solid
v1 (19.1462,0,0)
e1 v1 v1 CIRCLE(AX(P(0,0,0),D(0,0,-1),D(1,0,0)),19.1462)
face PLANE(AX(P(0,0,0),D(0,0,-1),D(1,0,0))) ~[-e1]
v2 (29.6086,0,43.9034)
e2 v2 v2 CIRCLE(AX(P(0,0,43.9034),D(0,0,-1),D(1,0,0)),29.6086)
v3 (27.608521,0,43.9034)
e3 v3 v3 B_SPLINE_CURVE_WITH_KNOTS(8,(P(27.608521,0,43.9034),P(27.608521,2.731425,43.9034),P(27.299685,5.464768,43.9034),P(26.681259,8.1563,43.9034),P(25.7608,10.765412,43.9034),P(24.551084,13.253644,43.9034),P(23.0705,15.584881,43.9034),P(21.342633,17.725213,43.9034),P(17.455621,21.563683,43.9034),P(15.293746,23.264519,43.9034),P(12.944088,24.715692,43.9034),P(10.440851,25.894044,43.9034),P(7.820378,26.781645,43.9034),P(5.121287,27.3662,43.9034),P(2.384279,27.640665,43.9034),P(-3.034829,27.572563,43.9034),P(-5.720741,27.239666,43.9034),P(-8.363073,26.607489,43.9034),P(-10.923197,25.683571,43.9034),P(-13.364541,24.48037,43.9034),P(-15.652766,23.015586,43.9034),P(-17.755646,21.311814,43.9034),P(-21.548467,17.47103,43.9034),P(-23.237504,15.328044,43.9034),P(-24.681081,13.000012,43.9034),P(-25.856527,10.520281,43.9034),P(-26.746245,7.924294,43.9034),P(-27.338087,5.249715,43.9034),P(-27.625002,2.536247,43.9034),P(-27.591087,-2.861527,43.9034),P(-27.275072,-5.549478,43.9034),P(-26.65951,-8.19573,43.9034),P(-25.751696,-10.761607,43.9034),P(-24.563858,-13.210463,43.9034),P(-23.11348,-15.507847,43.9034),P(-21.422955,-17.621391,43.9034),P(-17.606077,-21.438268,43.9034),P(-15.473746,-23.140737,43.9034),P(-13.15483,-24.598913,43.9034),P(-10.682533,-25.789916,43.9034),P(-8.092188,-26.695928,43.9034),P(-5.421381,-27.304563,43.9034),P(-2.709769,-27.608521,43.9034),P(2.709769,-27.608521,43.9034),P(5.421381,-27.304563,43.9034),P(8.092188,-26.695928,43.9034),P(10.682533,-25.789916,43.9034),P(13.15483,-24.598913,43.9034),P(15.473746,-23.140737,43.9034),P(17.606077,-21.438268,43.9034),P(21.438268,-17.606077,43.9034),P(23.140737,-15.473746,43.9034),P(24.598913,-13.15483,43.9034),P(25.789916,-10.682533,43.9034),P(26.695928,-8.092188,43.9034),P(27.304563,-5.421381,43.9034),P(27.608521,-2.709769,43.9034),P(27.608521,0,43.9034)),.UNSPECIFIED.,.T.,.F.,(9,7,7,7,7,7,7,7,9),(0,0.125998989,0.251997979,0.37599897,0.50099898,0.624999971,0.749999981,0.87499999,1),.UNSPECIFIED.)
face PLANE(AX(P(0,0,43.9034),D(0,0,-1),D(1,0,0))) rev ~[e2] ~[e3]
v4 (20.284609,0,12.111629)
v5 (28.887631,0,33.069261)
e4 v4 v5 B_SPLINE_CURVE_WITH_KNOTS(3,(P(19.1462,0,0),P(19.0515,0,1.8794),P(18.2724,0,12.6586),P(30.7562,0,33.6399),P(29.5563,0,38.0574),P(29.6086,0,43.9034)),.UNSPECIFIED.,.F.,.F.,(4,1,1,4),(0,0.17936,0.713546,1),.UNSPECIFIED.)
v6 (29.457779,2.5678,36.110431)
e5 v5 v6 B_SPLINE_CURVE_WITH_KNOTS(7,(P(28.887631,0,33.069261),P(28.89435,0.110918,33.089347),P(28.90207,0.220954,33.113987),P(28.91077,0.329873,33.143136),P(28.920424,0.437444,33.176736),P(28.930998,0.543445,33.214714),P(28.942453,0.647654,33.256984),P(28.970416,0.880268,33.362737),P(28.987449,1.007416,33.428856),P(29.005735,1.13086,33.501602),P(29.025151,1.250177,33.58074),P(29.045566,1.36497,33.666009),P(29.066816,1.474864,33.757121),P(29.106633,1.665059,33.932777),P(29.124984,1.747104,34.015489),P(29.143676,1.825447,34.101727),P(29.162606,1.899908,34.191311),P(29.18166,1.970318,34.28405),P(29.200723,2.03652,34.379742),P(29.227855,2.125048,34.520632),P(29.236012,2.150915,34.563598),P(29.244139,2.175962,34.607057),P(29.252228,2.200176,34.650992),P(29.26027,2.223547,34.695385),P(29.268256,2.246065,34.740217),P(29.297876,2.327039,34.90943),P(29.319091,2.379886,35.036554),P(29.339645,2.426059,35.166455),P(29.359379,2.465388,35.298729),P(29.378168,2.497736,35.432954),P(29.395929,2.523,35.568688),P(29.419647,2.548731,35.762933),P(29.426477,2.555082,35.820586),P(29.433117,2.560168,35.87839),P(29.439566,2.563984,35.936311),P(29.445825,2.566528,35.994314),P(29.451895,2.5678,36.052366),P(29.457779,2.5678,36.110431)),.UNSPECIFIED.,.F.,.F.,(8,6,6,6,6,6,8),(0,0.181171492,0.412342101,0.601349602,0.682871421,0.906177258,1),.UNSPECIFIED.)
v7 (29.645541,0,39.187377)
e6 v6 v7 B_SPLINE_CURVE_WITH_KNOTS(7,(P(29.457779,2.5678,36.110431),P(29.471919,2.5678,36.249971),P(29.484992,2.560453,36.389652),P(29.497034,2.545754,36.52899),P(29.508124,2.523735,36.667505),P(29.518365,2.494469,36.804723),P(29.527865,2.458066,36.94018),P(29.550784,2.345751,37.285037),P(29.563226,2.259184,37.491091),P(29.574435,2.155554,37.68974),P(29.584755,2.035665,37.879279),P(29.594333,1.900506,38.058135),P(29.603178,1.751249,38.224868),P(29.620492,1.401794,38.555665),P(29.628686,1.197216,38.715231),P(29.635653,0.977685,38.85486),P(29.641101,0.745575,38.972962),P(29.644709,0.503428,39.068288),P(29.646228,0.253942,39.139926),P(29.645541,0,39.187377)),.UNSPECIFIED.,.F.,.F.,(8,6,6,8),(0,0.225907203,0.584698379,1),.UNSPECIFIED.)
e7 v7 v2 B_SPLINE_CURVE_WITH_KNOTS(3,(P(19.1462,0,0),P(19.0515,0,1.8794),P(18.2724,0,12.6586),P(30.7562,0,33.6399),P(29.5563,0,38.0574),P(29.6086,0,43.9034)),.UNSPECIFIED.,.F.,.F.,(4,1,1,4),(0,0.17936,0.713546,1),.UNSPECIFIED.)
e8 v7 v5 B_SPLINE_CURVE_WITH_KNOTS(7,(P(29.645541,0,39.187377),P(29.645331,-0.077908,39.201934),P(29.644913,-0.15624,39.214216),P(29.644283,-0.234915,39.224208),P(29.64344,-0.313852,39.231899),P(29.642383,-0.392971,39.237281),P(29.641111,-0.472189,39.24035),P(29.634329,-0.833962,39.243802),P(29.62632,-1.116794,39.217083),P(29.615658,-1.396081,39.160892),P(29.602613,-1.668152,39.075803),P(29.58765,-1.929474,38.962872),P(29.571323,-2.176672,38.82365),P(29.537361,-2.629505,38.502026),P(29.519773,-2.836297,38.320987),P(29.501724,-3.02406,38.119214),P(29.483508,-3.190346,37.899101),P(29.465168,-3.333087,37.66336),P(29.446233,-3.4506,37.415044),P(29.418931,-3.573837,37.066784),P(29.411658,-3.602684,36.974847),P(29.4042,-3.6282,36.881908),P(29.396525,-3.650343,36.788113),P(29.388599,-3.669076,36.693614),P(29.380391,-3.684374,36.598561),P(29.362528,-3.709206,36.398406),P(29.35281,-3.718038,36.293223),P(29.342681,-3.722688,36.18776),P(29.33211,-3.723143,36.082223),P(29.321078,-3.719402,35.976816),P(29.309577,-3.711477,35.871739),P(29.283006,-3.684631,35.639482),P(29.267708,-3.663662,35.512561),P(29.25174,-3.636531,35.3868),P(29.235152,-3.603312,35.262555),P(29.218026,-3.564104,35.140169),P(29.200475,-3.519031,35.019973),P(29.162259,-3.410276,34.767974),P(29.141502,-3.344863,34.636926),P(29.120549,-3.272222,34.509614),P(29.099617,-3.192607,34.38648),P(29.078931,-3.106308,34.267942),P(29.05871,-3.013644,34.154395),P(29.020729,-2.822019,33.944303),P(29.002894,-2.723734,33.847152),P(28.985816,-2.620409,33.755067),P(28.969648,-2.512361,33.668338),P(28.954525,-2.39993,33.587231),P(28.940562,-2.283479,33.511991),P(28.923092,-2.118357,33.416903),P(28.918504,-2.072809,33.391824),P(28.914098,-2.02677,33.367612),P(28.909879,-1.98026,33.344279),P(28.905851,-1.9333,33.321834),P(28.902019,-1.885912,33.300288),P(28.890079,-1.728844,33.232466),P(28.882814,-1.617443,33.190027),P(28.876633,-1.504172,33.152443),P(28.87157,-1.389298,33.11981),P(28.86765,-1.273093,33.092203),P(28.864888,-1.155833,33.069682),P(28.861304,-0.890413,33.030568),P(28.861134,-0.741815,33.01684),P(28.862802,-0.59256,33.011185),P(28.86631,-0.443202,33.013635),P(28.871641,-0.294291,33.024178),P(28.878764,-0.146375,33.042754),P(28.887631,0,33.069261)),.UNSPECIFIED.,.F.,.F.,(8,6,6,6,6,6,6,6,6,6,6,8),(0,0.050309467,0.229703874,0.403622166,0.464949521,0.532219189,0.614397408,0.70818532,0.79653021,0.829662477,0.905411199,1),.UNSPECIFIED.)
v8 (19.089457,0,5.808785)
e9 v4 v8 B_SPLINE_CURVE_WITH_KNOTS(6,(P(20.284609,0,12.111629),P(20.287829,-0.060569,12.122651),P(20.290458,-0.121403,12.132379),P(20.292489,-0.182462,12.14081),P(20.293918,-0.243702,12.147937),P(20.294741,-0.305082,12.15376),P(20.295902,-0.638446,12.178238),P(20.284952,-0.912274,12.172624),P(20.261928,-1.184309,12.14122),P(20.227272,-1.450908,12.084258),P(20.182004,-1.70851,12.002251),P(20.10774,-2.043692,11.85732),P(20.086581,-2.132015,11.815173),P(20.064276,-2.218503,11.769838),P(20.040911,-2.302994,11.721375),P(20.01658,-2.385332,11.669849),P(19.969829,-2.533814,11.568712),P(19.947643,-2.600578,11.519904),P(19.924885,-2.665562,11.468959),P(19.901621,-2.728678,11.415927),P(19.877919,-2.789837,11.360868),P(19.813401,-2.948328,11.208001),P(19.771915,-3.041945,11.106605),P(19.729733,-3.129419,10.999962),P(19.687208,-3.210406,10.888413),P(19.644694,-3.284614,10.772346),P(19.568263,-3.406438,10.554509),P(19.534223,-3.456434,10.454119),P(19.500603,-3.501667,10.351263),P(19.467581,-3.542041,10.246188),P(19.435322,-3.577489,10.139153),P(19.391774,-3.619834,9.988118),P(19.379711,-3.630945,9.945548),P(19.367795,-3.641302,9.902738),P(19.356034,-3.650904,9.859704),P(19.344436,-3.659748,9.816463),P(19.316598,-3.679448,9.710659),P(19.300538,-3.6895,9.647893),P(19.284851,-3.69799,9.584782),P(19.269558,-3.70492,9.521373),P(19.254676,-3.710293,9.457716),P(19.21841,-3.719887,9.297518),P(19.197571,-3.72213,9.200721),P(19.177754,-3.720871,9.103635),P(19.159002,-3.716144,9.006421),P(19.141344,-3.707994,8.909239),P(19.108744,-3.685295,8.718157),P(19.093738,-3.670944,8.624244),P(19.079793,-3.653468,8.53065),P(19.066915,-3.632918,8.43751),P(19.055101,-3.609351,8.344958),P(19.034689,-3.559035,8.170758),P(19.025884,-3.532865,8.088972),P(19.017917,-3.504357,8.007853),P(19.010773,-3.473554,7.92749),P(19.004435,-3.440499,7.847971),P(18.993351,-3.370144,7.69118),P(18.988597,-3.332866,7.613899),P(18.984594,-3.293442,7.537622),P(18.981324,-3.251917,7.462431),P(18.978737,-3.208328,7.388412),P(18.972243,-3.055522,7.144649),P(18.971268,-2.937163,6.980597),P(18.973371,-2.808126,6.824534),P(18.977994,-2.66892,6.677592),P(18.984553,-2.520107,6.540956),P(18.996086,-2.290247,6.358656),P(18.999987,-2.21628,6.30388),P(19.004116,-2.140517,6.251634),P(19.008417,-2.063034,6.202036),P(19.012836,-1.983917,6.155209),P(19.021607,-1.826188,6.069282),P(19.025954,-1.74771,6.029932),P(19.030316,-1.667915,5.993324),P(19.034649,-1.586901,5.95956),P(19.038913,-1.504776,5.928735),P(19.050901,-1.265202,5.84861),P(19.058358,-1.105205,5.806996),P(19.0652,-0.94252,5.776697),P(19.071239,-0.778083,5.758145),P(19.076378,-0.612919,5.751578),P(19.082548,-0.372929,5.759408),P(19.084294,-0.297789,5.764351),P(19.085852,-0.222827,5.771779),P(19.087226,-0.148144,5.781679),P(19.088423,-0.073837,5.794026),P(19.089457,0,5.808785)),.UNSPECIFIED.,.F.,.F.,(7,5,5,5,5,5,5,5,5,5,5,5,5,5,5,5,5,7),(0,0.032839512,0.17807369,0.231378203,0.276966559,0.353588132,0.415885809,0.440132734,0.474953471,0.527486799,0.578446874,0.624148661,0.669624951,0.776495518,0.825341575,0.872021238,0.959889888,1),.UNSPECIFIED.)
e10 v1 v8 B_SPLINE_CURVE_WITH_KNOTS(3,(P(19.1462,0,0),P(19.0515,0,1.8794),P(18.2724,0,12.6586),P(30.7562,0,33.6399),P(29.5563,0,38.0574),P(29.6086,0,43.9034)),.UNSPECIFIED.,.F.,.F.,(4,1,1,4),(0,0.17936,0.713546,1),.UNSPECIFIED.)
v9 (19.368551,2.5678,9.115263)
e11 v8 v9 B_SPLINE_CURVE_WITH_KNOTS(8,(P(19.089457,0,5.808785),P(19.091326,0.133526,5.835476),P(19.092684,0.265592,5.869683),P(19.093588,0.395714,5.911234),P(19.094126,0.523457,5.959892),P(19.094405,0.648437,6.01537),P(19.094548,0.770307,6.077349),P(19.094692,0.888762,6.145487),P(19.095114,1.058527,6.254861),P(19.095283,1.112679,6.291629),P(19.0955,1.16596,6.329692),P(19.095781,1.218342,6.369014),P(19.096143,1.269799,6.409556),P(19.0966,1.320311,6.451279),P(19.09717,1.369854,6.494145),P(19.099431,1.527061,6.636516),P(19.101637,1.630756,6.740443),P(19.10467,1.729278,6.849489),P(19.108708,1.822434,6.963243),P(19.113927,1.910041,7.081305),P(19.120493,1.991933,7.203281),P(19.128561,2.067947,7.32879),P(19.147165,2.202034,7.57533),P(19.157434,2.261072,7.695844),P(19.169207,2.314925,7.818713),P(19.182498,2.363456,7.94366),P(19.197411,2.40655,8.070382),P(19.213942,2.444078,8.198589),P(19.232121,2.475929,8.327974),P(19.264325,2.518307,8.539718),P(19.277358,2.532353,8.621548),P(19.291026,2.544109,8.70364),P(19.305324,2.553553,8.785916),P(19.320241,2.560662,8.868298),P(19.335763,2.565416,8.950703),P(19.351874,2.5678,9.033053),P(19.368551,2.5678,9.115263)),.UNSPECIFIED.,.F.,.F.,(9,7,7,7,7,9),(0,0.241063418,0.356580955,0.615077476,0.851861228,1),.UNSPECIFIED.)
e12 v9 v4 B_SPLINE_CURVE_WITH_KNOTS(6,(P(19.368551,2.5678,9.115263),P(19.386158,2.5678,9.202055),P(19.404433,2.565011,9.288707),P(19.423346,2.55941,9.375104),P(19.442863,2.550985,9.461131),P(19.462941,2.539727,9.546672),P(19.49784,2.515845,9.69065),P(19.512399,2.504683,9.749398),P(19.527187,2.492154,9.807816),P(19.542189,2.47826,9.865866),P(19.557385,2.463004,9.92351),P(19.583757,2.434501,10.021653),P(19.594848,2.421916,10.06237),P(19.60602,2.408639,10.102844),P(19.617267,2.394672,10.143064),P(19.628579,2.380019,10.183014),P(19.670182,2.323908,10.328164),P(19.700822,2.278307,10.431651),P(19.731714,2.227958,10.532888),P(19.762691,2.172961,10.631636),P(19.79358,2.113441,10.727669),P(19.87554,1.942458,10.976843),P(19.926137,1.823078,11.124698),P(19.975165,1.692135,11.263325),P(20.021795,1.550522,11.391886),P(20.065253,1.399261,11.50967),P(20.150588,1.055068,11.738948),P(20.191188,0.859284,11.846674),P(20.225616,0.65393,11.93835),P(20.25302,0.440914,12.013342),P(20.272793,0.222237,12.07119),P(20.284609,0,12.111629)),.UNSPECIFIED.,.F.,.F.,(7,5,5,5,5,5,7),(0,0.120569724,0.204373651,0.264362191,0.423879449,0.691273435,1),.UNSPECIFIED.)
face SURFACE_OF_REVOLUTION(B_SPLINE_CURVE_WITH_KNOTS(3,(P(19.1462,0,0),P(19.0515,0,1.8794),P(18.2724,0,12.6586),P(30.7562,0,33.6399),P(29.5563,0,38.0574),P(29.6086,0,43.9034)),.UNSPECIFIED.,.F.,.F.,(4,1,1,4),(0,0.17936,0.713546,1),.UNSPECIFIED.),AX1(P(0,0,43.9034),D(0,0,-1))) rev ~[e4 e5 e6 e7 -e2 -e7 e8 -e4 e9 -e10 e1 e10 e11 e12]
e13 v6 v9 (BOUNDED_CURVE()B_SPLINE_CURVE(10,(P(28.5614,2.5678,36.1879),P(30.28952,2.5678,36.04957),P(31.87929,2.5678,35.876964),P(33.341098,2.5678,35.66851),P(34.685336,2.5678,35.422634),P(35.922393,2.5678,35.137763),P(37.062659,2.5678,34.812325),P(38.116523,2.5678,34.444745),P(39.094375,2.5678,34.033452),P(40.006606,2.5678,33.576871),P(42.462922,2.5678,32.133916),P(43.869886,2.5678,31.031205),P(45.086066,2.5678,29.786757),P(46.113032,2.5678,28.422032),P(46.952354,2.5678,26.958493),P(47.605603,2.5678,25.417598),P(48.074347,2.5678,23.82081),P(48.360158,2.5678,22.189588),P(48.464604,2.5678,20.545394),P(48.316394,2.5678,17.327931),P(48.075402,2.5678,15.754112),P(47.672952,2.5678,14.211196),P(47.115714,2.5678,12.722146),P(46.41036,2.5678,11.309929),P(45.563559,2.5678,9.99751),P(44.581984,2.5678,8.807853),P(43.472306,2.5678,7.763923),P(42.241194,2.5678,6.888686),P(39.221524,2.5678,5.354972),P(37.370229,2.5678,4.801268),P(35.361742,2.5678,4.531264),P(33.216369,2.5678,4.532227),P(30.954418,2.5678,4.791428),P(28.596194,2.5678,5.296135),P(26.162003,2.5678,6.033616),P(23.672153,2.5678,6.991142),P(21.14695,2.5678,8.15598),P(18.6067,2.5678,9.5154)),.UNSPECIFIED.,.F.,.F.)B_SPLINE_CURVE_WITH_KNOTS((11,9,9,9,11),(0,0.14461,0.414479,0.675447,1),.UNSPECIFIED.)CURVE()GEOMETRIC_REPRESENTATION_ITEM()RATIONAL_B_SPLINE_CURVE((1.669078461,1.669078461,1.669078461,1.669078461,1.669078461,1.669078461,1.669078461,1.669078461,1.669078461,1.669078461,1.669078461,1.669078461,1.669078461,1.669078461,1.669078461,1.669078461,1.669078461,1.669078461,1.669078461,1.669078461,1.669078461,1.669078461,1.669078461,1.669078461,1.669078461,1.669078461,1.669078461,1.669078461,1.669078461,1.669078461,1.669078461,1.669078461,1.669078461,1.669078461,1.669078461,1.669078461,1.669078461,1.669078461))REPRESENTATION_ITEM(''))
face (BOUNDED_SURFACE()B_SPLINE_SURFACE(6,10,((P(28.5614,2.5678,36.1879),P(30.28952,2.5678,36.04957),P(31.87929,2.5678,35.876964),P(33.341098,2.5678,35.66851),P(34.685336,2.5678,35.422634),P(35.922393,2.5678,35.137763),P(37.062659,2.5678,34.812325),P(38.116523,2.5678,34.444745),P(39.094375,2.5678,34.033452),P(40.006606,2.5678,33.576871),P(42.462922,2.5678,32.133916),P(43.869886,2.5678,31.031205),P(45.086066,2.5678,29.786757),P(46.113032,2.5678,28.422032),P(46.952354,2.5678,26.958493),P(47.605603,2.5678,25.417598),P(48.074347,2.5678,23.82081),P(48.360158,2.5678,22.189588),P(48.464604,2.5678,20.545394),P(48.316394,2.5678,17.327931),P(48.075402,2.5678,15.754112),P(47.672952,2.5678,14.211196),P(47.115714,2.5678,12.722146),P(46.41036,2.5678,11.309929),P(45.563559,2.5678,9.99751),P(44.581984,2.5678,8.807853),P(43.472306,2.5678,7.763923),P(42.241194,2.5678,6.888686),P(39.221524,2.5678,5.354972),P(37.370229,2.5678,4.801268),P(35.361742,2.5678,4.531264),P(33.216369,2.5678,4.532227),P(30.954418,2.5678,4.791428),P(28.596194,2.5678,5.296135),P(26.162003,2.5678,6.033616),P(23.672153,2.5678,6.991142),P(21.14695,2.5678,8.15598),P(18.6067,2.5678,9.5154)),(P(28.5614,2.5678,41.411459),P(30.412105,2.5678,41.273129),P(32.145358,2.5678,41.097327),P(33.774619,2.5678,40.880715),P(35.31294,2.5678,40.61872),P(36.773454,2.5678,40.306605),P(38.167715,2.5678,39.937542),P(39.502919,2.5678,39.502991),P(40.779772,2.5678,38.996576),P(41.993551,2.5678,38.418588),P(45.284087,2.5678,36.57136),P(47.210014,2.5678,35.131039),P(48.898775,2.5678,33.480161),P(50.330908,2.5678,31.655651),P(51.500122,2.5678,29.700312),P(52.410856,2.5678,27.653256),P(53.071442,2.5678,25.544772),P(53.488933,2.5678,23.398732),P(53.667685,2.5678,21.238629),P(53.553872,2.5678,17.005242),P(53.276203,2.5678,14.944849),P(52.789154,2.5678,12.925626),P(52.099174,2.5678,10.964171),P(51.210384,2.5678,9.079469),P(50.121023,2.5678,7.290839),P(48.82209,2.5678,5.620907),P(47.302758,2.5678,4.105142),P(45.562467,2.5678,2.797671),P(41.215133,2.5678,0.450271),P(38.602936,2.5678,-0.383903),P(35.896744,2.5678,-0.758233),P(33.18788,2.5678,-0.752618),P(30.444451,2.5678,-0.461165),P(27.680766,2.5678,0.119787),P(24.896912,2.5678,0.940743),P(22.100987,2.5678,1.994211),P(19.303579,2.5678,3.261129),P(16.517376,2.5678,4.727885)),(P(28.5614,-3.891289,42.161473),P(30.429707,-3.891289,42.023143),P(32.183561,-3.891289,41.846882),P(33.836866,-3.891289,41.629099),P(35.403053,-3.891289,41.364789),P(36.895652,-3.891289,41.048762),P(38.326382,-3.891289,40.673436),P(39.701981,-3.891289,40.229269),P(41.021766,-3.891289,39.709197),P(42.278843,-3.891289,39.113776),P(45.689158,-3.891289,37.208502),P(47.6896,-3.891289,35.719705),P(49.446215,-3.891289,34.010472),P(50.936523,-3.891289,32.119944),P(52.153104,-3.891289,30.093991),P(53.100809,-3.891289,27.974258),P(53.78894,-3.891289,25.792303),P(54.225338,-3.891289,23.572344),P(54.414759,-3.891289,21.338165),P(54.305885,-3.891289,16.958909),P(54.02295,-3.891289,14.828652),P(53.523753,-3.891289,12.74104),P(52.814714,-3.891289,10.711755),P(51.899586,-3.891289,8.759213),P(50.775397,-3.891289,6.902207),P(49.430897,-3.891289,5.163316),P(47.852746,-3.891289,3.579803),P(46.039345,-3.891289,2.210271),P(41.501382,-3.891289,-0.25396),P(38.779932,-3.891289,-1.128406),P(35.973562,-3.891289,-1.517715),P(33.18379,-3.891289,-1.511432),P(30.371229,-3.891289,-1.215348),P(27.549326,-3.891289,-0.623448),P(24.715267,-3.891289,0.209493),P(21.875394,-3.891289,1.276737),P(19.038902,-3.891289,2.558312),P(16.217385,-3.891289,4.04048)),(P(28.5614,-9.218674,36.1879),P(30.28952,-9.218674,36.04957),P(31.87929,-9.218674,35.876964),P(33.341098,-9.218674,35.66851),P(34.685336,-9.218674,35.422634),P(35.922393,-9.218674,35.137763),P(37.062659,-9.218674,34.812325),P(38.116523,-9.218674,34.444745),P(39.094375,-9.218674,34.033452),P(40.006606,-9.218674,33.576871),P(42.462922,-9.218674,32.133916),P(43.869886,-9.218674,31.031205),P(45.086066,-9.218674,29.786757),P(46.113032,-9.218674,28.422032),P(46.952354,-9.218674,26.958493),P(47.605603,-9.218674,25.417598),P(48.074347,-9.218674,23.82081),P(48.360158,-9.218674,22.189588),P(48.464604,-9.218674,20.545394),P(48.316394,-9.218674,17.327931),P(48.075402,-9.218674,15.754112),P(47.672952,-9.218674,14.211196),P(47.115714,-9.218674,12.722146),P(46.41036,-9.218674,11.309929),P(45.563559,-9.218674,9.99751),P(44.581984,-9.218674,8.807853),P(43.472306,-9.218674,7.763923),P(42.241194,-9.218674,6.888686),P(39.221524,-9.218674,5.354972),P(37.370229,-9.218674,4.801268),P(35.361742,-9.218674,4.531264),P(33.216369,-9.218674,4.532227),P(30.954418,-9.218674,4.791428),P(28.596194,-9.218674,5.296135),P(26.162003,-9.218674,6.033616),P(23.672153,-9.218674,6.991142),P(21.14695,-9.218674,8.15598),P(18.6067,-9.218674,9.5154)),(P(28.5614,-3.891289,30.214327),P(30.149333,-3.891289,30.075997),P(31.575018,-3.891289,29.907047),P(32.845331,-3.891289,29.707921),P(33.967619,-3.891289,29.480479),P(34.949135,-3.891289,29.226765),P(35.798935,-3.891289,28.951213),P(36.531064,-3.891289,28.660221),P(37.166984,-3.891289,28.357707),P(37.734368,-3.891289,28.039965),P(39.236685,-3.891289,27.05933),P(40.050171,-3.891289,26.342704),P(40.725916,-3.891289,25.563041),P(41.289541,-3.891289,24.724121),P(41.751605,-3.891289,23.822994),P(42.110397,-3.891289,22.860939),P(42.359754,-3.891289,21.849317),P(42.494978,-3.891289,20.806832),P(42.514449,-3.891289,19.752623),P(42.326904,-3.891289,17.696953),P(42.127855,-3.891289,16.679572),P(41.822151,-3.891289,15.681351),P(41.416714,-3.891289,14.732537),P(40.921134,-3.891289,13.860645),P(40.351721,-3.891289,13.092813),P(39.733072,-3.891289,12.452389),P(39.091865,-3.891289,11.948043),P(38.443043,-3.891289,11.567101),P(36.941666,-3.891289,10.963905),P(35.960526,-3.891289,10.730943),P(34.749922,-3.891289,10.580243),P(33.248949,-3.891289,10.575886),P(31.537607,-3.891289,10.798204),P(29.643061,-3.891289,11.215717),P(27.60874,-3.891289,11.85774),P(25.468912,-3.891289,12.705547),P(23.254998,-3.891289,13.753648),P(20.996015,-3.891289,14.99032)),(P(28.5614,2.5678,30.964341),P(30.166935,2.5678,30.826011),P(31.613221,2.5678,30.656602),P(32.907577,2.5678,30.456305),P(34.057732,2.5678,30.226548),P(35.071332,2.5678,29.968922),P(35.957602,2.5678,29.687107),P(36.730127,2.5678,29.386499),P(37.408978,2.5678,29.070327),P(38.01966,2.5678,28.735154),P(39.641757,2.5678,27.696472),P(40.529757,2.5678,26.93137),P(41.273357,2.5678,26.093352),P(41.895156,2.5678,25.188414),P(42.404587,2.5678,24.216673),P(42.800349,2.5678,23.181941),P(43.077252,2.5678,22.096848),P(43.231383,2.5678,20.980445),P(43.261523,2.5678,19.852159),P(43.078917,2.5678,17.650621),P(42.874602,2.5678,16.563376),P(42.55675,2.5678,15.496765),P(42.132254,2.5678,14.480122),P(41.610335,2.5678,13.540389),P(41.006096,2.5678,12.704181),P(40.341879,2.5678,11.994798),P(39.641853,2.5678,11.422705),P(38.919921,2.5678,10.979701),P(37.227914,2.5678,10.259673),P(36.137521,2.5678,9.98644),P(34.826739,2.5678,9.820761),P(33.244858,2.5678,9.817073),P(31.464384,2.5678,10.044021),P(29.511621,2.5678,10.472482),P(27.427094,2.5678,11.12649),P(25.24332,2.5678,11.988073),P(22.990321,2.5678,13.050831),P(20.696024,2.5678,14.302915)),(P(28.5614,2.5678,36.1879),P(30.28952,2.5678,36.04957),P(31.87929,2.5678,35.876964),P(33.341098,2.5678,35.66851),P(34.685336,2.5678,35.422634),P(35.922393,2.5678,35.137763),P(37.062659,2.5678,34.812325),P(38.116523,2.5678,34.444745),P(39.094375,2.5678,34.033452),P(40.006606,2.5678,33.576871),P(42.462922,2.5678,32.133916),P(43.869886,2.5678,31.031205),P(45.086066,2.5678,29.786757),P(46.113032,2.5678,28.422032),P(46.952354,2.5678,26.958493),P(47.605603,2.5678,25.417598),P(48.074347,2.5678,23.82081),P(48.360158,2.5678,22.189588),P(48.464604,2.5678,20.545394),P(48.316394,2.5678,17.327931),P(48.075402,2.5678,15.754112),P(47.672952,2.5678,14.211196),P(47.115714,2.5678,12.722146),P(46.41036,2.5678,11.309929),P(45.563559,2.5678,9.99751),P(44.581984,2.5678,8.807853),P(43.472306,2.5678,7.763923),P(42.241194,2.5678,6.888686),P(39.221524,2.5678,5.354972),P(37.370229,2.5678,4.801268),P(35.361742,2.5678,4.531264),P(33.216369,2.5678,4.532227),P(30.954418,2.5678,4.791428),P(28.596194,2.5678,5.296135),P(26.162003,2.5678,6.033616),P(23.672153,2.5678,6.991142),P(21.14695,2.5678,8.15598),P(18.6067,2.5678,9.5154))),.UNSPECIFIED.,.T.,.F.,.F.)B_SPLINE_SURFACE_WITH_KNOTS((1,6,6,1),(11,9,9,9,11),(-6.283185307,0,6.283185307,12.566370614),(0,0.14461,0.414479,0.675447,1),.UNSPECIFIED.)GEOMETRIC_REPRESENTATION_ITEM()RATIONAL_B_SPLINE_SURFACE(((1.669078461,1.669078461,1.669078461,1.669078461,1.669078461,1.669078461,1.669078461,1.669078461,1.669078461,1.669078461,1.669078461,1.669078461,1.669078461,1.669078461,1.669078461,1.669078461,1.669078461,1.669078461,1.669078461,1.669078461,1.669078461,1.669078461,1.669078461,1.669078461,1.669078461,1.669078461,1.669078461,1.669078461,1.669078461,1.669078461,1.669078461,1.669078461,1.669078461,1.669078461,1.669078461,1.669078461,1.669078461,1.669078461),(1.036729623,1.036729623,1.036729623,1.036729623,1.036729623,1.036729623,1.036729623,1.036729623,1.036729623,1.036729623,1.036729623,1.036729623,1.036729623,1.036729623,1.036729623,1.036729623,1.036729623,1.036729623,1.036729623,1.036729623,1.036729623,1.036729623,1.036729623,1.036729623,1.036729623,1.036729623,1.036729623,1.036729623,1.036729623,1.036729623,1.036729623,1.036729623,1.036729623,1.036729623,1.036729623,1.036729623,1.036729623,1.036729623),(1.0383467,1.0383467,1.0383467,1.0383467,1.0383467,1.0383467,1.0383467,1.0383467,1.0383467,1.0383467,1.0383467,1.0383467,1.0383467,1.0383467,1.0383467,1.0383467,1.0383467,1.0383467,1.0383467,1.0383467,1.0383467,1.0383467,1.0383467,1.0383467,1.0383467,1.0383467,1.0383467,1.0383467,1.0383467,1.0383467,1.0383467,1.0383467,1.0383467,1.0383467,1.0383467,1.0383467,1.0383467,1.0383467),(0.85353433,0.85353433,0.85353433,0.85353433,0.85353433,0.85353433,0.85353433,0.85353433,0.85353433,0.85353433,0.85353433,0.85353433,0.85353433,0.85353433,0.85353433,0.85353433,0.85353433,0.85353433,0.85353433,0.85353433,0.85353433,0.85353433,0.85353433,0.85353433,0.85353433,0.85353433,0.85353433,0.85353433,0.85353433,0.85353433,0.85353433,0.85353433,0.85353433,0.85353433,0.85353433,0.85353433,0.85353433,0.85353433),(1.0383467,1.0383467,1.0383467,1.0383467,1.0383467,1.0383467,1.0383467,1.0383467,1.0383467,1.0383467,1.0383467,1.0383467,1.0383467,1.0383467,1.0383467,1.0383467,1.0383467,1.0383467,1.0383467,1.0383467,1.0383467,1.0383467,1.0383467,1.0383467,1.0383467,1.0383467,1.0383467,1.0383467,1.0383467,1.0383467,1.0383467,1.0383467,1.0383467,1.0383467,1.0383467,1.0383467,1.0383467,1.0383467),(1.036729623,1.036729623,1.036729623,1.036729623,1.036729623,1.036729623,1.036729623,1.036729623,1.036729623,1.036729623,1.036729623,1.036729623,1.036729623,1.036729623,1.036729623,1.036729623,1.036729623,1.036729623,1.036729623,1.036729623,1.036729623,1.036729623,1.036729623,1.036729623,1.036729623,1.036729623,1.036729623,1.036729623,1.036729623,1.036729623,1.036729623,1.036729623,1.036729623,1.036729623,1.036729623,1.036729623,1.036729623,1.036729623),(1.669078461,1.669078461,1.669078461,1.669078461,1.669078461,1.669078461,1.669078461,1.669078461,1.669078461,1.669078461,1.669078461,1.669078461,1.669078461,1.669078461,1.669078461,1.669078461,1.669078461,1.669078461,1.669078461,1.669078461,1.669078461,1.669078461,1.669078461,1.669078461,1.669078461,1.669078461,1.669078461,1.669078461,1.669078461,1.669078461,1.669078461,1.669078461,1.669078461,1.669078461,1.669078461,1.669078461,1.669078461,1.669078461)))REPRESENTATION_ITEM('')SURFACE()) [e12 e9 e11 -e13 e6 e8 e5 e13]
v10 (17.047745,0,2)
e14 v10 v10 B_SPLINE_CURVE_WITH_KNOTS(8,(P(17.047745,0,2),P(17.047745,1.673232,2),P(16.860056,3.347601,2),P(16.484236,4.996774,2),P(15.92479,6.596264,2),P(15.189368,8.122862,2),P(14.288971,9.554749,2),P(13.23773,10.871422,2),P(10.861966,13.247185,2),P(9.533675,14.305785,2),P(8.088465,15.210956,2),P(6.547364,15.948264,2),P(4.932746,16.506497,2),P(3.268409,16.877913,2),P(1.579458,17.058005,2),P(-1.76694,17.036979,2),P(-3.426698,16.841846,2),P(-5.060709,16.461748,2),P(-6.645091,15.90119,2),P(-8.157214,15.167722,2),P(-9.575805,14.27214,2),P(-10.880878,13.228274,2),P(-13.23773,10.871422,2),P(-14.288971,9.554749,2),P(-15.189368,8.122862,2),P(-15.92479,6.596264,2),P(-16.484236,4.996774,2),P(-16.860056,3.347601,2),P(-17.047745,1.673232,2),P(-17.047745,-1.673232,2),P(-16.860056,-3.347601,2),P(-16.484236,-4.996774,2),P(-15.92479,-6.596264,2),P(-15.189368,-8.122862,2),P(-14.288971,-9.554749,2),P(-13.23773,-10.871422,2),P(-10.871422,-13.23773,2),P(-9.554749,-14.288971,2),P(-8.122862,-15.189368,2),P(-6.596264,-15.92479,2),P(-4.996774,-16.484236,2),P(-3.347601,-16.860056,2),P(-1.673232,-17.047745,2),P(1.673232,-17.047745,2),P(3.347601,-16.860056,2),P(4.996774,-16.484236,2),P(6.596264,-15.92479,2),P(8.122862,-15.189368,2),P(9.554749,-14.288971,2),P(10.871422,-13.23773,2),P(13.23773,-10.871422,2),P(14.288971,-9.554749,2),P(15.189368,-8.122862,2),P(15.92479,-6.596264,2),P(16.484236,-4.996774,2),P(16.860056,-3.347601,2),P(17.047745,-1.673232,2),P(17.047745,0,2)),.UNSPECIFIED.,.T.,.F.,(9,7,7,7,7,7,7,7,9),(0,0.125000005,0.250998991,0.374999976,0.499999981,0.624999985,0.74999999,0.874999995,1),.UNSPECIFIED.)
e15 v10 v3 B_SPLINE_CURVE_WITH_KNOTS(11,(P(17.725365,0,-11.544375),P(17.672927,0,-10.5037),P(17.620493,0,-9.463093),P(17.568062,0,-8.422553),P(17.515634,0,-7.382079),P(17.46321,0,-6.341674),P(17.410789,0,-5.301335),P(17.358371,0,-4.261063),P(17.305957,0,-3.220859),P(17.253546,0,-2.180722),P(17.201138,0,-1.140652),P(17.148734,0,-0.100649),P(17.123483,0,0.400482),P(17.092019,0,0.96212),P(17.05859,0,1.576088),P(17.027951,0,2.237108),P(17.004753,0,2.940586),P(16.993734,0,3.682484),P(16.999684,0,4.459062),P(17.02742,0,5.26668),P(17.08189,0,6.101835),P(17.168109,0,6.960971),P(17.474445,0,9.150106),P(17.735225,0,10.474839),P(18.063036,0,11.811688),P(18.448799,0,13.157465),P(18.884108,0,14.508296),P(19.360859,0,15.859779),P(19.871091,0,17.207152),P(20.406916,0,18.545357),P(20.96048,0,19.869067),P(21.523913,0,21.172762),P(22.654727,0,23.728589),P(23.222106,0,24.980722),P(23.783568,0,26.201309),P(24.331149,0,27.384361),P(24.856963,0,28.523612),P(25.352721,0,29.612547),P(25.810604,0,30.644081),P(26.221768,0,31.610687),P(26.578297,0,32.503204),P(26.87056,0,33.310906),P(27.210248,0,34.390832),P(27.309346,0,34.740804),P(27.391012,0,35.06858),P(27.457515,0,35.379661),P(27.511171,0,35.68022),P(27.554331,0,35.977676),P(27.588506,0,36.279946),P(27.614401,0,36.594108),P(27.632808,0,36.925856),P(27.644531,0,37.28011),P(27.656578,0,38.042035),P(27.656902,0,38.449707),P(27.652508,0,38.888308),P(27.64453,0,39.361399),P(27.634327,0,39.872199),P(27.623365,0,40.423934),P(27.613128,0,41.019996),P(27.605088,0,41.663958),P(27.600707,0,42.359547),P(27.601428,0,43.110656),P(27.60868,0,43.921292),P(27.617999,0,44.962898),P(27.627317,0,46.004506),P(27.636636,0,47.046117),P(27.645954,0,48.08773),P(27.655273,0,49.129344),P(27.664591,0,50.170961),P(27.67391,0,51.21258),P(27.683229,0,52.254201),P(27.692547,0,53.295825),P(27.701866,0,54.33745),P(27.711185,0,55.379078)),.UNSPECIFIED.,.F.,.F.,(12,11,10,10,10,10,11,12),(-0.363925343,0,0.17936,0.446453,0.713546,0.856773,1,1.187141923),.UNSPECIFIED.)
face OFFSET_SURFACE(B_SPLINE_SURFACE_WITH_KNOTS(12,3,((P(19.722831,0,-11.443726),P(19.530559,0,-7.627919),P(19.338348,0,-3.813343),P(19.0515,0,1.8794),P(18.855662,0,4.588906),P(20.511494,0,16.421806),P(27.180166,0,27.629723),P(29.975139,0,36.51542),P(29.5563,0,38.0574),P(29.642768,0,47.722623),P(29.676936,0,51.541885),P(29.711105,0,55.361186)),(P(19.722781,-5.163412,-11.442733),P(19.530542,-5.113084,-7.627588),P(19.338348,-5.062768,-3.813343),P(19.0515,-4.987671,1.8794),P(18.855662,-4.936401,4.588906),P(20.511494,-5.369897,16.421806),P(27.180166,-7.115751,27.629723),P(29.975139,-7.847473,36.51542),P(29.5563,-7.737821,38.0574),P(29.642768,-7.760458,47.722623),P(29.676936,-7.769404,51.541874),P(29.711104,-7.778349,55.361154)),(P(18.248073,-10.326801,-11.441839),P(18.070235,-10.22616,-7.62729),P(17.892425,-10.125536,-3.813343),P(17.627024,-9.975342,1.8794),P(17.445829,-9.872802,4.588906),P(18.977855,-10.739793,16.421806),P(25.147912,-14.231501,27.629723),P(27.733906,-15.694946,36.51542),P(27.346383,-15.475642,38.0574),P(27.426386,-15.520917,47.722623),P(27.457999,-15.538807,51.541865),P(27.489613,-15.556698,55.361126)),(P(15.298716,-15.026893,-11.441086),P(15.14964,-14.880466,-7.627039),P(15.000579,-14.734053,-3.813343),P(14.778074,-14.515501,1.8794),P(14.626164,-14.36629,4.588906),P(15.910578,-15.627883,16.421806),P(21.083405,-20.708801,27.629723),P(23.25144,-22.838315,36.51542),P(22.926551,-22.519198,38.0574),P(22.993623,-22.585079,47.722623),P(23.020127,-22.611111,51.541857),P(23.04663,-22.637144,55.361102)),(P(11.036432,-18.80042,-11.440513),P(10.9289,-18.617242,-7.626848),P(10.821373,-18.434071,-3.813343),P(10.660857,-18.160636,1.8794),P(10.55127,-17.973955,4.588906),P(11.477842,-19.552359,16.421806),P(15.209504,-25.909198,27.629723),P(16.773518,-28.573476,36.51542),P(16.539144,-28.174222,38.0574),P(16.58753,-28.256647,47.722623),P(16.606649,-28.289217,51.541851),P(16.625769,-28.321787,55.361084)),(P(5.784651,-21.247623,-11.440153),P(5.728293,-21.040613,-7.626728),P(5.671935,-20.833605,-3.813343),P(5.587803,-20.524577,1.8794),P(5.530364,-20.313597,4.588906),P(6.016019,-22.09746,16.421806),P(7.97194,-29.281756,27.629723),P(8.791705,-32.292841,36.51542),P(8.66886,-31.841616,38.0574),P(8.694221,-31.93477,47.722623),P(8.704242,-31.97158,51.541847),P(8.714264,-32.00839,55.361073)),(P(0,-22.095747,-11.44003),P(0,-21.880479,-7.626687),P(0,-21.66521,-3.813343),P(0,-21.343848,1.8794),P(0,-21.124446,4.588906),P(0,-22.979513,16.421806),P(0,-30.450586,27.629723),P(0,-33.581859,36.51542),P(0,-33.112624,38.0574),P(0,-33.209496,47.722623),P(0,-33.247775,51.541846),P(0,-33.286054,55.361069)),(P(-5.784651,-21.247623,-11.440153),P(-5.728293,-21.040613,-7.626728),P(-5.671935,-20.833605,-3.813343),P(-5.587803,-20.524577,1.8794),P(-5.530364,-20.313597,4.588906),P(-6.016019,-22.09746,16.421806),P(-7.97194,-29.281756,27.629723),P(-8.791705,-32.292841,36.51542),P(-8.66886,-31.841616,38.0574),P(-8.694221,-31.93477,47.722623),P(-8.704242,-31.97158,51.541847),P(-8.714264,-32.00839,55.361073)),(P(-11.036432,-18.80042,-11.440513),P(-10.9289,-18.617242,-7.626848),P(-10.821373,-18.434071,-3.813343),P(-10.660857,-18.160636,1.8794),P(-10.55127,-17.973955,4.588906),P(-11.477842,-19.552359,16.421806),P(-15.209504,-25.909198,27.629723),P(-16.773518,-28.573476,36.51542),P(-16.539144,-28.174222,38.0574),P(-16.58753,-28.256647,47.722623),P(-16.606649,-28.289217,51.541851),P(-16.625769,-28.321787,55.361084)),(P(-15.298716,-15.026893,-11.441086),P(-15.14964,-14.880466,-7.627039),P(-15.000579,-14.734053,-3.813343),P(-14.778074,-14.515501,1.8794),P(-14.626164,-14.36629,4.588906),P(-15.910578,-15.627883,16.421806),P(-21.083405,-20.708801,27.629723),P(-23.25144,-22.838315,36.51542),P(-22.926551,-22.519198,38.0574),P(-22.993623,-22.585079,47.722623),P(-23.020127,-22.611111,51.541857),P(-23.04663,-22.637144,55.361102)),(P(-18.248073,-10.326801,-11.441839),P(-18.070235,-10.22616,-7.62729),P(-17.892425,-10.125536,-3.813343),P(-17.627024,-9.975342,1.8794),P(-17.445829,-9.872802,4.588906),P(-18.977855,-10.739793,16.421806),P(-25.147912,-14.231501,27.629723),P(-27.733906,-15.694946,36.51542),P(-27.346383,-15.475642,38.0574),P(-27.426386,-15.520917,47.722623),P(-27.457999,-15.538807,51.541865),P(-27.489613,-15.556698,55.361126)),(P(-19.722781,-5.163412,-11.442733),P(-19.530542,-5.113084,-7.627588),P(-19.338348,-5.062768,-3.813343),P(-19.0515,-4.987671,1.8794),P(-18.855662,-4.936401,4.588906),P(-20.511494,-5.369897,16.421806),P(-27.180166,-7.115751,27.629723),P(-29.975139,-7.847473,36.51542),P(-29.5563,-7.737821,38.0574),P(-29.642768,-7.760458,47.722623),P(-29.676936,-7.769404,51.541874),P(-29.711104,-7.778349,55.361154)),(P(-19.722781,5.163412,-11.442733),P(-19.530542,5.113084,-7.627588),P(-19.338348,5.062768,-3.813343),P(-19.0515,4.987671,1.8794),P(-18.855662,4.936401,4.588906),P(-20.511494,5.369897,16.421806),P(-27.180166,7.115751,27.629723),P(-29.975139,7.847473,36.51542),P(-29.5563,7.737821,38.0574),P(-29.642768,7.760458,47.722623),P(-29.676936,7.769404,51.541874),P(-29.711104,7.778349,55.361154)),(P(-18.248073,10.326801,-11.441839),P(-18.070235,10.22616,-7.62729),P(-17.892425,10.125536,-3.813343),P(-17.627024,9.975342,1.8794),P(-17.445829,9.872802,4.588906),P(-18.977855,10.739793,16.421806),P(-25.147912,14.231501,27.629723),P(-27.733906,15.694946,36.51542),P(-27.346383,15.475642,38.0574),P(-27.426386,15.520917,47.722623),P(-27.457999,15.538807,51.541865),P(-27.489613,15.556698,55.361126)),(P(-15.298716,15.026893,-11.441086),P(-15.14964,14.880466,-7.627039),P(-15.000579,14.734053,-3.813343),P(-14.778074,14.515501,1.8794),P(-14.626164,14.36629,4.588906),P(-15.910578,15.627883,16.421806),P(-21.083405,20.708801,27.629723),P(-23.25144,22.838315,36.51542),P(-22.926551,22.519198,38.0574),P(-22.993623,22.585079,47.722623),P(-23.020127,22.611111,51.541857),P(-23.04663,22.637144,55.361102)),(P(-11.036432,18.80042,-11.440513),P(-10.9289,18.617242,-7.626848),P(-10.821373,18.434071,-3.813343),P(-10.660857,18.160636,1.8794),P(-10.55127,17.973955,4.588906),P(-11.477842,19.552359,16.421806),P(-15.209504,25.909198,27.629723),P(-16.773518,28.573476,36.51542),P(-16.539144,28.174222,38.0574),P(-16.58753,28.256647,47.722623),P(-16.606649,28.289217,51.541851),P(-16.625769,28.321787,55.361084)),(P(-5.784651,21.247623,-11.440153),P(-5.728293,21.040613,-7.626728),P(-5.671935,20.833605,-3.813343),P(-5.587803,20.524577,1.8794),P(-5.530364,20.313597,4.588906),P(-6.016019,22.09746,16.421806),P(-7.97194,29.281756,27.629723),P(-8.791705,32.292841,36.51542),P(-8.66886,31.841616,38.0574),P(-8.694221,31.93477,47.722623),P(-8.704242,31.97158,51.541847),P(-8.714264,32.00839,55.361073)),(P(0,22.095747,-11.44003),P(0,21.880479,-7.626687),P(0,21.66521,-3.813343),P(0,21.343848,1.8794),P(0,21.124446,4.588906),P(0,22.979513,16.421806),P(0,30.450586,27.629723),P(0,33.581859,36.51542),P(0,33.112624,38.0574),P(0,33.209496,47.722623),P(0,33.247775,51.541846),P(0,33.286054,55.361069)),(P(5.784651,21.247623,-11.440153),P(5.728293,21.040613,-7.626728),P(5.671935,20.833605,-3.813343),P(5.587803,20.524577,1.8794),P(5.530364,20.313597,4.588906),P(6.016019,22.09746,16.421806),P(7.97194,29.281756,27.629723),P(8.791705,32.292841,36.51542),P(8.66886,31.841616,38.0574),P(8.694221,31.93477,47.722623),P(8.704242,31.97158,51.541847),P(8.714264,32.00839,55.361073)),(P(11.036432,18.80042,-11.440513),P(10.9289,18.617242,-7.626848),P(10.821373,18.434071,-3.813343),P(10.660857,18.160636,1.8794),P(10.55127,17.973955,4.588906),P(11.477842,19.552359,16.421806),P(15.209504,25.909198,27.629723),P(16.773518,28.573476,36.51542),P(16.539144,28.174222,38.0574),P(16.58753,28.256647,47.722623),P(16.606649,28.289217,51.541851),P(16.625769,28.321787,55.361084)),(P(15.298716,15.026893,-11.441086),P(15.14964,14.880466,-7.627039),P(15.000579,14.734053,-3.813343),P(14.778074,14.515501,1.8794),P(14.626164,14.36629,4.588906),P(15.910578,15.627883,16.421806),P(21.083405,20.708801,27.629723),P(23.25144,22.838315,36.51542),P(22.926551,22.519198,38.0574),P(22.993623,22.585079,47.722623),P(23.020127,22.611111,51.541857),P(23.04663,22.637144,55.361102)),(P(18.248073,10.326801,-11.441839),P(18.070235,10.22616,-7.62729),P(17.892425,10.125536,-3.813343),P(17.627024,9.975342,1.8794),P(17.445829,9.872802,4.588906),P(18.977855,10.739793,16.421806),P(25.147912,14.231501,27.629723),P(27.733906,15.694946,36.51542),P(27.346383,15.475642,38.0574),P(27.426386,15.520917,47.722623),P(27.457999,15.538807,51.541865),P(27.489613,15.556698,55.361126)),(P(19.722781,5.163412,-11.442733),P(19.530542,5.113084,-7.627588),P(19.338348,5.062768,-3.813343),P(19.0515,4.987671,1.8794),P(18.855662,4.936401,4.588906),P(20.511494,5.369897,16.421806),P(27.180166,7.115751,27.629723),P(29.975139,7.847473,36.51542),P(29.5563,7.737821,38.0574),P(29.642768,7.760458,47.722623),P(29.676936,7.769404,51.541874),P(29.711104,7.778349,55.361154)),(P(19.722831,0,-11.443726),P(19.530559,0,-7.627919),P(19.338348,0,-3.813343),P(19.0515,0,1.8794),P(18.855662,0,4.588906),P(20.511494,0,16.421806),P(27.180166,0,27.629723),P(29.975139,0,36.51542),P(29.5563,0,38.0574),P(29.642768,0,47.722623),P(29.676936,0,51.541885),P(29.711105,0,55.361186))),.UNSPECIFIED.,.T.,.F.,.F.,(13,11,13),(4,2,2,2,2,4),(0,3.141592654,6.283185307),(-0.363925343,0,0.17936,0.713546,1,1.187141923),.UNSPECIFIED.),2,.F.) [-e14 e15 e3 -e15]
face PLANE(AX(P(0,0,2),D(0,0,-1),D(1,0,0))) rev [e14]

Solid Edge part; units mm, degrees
sketch "Sketch1" plane through (0, 0, 0) normal (0, -1, 0) x (1, 0, 0)
  line L0 (29.6086, 43.9034) -> (0, 43.9034)
  line L1 (0, 43.9034) -> (0, 0)
  line L2 (0, 0) -> (19.1462, 0)
  spline S0 degree 3 poles (19.1462, 0) (19.0515, 1.8794) (18.2724, 12.6586) (30.7562, 33.6399) (29.5563, 38.0574) (29.6086, 43.9034) knots 0 0 0 0 0.17936 0.713546 1 1 1 1
revolve "RevolvedProtrusion1" add sketch "Sketch1" angle 360 about axis through (0, 0, 43.9034) along (0, 0, -1)
shell "Thinwall1" thickness 2 removed faces 1 at (-20.3312, 19.1469, 43.9034)
sketch "Sketch2" plane through (0, 0, 0) normal (0, -1, 0) x (1, 0, 0)
  spline S0 degree 3 poles (28.5614, 36.1879) (34.3218, 35.7268) (44.8841, 32.9316) (51.0055, 18.9664) (41.9431, 2.0746) (27.0742, 4.984) (18.6067, 9.5154) knots 0 0 0 0 0.14461 0.414479 0.675447 1 1 1 1
sketch "Sketch3" plane through (28.5614, 0, 0) normal (1, 0, 0) x (0, 1, 0)
  circle A0 centre (-0.576, 36.1879) radius 3.1438
sweep "SweptProtrusion_1" add profiles "Sketch3" path "Sketch2"
